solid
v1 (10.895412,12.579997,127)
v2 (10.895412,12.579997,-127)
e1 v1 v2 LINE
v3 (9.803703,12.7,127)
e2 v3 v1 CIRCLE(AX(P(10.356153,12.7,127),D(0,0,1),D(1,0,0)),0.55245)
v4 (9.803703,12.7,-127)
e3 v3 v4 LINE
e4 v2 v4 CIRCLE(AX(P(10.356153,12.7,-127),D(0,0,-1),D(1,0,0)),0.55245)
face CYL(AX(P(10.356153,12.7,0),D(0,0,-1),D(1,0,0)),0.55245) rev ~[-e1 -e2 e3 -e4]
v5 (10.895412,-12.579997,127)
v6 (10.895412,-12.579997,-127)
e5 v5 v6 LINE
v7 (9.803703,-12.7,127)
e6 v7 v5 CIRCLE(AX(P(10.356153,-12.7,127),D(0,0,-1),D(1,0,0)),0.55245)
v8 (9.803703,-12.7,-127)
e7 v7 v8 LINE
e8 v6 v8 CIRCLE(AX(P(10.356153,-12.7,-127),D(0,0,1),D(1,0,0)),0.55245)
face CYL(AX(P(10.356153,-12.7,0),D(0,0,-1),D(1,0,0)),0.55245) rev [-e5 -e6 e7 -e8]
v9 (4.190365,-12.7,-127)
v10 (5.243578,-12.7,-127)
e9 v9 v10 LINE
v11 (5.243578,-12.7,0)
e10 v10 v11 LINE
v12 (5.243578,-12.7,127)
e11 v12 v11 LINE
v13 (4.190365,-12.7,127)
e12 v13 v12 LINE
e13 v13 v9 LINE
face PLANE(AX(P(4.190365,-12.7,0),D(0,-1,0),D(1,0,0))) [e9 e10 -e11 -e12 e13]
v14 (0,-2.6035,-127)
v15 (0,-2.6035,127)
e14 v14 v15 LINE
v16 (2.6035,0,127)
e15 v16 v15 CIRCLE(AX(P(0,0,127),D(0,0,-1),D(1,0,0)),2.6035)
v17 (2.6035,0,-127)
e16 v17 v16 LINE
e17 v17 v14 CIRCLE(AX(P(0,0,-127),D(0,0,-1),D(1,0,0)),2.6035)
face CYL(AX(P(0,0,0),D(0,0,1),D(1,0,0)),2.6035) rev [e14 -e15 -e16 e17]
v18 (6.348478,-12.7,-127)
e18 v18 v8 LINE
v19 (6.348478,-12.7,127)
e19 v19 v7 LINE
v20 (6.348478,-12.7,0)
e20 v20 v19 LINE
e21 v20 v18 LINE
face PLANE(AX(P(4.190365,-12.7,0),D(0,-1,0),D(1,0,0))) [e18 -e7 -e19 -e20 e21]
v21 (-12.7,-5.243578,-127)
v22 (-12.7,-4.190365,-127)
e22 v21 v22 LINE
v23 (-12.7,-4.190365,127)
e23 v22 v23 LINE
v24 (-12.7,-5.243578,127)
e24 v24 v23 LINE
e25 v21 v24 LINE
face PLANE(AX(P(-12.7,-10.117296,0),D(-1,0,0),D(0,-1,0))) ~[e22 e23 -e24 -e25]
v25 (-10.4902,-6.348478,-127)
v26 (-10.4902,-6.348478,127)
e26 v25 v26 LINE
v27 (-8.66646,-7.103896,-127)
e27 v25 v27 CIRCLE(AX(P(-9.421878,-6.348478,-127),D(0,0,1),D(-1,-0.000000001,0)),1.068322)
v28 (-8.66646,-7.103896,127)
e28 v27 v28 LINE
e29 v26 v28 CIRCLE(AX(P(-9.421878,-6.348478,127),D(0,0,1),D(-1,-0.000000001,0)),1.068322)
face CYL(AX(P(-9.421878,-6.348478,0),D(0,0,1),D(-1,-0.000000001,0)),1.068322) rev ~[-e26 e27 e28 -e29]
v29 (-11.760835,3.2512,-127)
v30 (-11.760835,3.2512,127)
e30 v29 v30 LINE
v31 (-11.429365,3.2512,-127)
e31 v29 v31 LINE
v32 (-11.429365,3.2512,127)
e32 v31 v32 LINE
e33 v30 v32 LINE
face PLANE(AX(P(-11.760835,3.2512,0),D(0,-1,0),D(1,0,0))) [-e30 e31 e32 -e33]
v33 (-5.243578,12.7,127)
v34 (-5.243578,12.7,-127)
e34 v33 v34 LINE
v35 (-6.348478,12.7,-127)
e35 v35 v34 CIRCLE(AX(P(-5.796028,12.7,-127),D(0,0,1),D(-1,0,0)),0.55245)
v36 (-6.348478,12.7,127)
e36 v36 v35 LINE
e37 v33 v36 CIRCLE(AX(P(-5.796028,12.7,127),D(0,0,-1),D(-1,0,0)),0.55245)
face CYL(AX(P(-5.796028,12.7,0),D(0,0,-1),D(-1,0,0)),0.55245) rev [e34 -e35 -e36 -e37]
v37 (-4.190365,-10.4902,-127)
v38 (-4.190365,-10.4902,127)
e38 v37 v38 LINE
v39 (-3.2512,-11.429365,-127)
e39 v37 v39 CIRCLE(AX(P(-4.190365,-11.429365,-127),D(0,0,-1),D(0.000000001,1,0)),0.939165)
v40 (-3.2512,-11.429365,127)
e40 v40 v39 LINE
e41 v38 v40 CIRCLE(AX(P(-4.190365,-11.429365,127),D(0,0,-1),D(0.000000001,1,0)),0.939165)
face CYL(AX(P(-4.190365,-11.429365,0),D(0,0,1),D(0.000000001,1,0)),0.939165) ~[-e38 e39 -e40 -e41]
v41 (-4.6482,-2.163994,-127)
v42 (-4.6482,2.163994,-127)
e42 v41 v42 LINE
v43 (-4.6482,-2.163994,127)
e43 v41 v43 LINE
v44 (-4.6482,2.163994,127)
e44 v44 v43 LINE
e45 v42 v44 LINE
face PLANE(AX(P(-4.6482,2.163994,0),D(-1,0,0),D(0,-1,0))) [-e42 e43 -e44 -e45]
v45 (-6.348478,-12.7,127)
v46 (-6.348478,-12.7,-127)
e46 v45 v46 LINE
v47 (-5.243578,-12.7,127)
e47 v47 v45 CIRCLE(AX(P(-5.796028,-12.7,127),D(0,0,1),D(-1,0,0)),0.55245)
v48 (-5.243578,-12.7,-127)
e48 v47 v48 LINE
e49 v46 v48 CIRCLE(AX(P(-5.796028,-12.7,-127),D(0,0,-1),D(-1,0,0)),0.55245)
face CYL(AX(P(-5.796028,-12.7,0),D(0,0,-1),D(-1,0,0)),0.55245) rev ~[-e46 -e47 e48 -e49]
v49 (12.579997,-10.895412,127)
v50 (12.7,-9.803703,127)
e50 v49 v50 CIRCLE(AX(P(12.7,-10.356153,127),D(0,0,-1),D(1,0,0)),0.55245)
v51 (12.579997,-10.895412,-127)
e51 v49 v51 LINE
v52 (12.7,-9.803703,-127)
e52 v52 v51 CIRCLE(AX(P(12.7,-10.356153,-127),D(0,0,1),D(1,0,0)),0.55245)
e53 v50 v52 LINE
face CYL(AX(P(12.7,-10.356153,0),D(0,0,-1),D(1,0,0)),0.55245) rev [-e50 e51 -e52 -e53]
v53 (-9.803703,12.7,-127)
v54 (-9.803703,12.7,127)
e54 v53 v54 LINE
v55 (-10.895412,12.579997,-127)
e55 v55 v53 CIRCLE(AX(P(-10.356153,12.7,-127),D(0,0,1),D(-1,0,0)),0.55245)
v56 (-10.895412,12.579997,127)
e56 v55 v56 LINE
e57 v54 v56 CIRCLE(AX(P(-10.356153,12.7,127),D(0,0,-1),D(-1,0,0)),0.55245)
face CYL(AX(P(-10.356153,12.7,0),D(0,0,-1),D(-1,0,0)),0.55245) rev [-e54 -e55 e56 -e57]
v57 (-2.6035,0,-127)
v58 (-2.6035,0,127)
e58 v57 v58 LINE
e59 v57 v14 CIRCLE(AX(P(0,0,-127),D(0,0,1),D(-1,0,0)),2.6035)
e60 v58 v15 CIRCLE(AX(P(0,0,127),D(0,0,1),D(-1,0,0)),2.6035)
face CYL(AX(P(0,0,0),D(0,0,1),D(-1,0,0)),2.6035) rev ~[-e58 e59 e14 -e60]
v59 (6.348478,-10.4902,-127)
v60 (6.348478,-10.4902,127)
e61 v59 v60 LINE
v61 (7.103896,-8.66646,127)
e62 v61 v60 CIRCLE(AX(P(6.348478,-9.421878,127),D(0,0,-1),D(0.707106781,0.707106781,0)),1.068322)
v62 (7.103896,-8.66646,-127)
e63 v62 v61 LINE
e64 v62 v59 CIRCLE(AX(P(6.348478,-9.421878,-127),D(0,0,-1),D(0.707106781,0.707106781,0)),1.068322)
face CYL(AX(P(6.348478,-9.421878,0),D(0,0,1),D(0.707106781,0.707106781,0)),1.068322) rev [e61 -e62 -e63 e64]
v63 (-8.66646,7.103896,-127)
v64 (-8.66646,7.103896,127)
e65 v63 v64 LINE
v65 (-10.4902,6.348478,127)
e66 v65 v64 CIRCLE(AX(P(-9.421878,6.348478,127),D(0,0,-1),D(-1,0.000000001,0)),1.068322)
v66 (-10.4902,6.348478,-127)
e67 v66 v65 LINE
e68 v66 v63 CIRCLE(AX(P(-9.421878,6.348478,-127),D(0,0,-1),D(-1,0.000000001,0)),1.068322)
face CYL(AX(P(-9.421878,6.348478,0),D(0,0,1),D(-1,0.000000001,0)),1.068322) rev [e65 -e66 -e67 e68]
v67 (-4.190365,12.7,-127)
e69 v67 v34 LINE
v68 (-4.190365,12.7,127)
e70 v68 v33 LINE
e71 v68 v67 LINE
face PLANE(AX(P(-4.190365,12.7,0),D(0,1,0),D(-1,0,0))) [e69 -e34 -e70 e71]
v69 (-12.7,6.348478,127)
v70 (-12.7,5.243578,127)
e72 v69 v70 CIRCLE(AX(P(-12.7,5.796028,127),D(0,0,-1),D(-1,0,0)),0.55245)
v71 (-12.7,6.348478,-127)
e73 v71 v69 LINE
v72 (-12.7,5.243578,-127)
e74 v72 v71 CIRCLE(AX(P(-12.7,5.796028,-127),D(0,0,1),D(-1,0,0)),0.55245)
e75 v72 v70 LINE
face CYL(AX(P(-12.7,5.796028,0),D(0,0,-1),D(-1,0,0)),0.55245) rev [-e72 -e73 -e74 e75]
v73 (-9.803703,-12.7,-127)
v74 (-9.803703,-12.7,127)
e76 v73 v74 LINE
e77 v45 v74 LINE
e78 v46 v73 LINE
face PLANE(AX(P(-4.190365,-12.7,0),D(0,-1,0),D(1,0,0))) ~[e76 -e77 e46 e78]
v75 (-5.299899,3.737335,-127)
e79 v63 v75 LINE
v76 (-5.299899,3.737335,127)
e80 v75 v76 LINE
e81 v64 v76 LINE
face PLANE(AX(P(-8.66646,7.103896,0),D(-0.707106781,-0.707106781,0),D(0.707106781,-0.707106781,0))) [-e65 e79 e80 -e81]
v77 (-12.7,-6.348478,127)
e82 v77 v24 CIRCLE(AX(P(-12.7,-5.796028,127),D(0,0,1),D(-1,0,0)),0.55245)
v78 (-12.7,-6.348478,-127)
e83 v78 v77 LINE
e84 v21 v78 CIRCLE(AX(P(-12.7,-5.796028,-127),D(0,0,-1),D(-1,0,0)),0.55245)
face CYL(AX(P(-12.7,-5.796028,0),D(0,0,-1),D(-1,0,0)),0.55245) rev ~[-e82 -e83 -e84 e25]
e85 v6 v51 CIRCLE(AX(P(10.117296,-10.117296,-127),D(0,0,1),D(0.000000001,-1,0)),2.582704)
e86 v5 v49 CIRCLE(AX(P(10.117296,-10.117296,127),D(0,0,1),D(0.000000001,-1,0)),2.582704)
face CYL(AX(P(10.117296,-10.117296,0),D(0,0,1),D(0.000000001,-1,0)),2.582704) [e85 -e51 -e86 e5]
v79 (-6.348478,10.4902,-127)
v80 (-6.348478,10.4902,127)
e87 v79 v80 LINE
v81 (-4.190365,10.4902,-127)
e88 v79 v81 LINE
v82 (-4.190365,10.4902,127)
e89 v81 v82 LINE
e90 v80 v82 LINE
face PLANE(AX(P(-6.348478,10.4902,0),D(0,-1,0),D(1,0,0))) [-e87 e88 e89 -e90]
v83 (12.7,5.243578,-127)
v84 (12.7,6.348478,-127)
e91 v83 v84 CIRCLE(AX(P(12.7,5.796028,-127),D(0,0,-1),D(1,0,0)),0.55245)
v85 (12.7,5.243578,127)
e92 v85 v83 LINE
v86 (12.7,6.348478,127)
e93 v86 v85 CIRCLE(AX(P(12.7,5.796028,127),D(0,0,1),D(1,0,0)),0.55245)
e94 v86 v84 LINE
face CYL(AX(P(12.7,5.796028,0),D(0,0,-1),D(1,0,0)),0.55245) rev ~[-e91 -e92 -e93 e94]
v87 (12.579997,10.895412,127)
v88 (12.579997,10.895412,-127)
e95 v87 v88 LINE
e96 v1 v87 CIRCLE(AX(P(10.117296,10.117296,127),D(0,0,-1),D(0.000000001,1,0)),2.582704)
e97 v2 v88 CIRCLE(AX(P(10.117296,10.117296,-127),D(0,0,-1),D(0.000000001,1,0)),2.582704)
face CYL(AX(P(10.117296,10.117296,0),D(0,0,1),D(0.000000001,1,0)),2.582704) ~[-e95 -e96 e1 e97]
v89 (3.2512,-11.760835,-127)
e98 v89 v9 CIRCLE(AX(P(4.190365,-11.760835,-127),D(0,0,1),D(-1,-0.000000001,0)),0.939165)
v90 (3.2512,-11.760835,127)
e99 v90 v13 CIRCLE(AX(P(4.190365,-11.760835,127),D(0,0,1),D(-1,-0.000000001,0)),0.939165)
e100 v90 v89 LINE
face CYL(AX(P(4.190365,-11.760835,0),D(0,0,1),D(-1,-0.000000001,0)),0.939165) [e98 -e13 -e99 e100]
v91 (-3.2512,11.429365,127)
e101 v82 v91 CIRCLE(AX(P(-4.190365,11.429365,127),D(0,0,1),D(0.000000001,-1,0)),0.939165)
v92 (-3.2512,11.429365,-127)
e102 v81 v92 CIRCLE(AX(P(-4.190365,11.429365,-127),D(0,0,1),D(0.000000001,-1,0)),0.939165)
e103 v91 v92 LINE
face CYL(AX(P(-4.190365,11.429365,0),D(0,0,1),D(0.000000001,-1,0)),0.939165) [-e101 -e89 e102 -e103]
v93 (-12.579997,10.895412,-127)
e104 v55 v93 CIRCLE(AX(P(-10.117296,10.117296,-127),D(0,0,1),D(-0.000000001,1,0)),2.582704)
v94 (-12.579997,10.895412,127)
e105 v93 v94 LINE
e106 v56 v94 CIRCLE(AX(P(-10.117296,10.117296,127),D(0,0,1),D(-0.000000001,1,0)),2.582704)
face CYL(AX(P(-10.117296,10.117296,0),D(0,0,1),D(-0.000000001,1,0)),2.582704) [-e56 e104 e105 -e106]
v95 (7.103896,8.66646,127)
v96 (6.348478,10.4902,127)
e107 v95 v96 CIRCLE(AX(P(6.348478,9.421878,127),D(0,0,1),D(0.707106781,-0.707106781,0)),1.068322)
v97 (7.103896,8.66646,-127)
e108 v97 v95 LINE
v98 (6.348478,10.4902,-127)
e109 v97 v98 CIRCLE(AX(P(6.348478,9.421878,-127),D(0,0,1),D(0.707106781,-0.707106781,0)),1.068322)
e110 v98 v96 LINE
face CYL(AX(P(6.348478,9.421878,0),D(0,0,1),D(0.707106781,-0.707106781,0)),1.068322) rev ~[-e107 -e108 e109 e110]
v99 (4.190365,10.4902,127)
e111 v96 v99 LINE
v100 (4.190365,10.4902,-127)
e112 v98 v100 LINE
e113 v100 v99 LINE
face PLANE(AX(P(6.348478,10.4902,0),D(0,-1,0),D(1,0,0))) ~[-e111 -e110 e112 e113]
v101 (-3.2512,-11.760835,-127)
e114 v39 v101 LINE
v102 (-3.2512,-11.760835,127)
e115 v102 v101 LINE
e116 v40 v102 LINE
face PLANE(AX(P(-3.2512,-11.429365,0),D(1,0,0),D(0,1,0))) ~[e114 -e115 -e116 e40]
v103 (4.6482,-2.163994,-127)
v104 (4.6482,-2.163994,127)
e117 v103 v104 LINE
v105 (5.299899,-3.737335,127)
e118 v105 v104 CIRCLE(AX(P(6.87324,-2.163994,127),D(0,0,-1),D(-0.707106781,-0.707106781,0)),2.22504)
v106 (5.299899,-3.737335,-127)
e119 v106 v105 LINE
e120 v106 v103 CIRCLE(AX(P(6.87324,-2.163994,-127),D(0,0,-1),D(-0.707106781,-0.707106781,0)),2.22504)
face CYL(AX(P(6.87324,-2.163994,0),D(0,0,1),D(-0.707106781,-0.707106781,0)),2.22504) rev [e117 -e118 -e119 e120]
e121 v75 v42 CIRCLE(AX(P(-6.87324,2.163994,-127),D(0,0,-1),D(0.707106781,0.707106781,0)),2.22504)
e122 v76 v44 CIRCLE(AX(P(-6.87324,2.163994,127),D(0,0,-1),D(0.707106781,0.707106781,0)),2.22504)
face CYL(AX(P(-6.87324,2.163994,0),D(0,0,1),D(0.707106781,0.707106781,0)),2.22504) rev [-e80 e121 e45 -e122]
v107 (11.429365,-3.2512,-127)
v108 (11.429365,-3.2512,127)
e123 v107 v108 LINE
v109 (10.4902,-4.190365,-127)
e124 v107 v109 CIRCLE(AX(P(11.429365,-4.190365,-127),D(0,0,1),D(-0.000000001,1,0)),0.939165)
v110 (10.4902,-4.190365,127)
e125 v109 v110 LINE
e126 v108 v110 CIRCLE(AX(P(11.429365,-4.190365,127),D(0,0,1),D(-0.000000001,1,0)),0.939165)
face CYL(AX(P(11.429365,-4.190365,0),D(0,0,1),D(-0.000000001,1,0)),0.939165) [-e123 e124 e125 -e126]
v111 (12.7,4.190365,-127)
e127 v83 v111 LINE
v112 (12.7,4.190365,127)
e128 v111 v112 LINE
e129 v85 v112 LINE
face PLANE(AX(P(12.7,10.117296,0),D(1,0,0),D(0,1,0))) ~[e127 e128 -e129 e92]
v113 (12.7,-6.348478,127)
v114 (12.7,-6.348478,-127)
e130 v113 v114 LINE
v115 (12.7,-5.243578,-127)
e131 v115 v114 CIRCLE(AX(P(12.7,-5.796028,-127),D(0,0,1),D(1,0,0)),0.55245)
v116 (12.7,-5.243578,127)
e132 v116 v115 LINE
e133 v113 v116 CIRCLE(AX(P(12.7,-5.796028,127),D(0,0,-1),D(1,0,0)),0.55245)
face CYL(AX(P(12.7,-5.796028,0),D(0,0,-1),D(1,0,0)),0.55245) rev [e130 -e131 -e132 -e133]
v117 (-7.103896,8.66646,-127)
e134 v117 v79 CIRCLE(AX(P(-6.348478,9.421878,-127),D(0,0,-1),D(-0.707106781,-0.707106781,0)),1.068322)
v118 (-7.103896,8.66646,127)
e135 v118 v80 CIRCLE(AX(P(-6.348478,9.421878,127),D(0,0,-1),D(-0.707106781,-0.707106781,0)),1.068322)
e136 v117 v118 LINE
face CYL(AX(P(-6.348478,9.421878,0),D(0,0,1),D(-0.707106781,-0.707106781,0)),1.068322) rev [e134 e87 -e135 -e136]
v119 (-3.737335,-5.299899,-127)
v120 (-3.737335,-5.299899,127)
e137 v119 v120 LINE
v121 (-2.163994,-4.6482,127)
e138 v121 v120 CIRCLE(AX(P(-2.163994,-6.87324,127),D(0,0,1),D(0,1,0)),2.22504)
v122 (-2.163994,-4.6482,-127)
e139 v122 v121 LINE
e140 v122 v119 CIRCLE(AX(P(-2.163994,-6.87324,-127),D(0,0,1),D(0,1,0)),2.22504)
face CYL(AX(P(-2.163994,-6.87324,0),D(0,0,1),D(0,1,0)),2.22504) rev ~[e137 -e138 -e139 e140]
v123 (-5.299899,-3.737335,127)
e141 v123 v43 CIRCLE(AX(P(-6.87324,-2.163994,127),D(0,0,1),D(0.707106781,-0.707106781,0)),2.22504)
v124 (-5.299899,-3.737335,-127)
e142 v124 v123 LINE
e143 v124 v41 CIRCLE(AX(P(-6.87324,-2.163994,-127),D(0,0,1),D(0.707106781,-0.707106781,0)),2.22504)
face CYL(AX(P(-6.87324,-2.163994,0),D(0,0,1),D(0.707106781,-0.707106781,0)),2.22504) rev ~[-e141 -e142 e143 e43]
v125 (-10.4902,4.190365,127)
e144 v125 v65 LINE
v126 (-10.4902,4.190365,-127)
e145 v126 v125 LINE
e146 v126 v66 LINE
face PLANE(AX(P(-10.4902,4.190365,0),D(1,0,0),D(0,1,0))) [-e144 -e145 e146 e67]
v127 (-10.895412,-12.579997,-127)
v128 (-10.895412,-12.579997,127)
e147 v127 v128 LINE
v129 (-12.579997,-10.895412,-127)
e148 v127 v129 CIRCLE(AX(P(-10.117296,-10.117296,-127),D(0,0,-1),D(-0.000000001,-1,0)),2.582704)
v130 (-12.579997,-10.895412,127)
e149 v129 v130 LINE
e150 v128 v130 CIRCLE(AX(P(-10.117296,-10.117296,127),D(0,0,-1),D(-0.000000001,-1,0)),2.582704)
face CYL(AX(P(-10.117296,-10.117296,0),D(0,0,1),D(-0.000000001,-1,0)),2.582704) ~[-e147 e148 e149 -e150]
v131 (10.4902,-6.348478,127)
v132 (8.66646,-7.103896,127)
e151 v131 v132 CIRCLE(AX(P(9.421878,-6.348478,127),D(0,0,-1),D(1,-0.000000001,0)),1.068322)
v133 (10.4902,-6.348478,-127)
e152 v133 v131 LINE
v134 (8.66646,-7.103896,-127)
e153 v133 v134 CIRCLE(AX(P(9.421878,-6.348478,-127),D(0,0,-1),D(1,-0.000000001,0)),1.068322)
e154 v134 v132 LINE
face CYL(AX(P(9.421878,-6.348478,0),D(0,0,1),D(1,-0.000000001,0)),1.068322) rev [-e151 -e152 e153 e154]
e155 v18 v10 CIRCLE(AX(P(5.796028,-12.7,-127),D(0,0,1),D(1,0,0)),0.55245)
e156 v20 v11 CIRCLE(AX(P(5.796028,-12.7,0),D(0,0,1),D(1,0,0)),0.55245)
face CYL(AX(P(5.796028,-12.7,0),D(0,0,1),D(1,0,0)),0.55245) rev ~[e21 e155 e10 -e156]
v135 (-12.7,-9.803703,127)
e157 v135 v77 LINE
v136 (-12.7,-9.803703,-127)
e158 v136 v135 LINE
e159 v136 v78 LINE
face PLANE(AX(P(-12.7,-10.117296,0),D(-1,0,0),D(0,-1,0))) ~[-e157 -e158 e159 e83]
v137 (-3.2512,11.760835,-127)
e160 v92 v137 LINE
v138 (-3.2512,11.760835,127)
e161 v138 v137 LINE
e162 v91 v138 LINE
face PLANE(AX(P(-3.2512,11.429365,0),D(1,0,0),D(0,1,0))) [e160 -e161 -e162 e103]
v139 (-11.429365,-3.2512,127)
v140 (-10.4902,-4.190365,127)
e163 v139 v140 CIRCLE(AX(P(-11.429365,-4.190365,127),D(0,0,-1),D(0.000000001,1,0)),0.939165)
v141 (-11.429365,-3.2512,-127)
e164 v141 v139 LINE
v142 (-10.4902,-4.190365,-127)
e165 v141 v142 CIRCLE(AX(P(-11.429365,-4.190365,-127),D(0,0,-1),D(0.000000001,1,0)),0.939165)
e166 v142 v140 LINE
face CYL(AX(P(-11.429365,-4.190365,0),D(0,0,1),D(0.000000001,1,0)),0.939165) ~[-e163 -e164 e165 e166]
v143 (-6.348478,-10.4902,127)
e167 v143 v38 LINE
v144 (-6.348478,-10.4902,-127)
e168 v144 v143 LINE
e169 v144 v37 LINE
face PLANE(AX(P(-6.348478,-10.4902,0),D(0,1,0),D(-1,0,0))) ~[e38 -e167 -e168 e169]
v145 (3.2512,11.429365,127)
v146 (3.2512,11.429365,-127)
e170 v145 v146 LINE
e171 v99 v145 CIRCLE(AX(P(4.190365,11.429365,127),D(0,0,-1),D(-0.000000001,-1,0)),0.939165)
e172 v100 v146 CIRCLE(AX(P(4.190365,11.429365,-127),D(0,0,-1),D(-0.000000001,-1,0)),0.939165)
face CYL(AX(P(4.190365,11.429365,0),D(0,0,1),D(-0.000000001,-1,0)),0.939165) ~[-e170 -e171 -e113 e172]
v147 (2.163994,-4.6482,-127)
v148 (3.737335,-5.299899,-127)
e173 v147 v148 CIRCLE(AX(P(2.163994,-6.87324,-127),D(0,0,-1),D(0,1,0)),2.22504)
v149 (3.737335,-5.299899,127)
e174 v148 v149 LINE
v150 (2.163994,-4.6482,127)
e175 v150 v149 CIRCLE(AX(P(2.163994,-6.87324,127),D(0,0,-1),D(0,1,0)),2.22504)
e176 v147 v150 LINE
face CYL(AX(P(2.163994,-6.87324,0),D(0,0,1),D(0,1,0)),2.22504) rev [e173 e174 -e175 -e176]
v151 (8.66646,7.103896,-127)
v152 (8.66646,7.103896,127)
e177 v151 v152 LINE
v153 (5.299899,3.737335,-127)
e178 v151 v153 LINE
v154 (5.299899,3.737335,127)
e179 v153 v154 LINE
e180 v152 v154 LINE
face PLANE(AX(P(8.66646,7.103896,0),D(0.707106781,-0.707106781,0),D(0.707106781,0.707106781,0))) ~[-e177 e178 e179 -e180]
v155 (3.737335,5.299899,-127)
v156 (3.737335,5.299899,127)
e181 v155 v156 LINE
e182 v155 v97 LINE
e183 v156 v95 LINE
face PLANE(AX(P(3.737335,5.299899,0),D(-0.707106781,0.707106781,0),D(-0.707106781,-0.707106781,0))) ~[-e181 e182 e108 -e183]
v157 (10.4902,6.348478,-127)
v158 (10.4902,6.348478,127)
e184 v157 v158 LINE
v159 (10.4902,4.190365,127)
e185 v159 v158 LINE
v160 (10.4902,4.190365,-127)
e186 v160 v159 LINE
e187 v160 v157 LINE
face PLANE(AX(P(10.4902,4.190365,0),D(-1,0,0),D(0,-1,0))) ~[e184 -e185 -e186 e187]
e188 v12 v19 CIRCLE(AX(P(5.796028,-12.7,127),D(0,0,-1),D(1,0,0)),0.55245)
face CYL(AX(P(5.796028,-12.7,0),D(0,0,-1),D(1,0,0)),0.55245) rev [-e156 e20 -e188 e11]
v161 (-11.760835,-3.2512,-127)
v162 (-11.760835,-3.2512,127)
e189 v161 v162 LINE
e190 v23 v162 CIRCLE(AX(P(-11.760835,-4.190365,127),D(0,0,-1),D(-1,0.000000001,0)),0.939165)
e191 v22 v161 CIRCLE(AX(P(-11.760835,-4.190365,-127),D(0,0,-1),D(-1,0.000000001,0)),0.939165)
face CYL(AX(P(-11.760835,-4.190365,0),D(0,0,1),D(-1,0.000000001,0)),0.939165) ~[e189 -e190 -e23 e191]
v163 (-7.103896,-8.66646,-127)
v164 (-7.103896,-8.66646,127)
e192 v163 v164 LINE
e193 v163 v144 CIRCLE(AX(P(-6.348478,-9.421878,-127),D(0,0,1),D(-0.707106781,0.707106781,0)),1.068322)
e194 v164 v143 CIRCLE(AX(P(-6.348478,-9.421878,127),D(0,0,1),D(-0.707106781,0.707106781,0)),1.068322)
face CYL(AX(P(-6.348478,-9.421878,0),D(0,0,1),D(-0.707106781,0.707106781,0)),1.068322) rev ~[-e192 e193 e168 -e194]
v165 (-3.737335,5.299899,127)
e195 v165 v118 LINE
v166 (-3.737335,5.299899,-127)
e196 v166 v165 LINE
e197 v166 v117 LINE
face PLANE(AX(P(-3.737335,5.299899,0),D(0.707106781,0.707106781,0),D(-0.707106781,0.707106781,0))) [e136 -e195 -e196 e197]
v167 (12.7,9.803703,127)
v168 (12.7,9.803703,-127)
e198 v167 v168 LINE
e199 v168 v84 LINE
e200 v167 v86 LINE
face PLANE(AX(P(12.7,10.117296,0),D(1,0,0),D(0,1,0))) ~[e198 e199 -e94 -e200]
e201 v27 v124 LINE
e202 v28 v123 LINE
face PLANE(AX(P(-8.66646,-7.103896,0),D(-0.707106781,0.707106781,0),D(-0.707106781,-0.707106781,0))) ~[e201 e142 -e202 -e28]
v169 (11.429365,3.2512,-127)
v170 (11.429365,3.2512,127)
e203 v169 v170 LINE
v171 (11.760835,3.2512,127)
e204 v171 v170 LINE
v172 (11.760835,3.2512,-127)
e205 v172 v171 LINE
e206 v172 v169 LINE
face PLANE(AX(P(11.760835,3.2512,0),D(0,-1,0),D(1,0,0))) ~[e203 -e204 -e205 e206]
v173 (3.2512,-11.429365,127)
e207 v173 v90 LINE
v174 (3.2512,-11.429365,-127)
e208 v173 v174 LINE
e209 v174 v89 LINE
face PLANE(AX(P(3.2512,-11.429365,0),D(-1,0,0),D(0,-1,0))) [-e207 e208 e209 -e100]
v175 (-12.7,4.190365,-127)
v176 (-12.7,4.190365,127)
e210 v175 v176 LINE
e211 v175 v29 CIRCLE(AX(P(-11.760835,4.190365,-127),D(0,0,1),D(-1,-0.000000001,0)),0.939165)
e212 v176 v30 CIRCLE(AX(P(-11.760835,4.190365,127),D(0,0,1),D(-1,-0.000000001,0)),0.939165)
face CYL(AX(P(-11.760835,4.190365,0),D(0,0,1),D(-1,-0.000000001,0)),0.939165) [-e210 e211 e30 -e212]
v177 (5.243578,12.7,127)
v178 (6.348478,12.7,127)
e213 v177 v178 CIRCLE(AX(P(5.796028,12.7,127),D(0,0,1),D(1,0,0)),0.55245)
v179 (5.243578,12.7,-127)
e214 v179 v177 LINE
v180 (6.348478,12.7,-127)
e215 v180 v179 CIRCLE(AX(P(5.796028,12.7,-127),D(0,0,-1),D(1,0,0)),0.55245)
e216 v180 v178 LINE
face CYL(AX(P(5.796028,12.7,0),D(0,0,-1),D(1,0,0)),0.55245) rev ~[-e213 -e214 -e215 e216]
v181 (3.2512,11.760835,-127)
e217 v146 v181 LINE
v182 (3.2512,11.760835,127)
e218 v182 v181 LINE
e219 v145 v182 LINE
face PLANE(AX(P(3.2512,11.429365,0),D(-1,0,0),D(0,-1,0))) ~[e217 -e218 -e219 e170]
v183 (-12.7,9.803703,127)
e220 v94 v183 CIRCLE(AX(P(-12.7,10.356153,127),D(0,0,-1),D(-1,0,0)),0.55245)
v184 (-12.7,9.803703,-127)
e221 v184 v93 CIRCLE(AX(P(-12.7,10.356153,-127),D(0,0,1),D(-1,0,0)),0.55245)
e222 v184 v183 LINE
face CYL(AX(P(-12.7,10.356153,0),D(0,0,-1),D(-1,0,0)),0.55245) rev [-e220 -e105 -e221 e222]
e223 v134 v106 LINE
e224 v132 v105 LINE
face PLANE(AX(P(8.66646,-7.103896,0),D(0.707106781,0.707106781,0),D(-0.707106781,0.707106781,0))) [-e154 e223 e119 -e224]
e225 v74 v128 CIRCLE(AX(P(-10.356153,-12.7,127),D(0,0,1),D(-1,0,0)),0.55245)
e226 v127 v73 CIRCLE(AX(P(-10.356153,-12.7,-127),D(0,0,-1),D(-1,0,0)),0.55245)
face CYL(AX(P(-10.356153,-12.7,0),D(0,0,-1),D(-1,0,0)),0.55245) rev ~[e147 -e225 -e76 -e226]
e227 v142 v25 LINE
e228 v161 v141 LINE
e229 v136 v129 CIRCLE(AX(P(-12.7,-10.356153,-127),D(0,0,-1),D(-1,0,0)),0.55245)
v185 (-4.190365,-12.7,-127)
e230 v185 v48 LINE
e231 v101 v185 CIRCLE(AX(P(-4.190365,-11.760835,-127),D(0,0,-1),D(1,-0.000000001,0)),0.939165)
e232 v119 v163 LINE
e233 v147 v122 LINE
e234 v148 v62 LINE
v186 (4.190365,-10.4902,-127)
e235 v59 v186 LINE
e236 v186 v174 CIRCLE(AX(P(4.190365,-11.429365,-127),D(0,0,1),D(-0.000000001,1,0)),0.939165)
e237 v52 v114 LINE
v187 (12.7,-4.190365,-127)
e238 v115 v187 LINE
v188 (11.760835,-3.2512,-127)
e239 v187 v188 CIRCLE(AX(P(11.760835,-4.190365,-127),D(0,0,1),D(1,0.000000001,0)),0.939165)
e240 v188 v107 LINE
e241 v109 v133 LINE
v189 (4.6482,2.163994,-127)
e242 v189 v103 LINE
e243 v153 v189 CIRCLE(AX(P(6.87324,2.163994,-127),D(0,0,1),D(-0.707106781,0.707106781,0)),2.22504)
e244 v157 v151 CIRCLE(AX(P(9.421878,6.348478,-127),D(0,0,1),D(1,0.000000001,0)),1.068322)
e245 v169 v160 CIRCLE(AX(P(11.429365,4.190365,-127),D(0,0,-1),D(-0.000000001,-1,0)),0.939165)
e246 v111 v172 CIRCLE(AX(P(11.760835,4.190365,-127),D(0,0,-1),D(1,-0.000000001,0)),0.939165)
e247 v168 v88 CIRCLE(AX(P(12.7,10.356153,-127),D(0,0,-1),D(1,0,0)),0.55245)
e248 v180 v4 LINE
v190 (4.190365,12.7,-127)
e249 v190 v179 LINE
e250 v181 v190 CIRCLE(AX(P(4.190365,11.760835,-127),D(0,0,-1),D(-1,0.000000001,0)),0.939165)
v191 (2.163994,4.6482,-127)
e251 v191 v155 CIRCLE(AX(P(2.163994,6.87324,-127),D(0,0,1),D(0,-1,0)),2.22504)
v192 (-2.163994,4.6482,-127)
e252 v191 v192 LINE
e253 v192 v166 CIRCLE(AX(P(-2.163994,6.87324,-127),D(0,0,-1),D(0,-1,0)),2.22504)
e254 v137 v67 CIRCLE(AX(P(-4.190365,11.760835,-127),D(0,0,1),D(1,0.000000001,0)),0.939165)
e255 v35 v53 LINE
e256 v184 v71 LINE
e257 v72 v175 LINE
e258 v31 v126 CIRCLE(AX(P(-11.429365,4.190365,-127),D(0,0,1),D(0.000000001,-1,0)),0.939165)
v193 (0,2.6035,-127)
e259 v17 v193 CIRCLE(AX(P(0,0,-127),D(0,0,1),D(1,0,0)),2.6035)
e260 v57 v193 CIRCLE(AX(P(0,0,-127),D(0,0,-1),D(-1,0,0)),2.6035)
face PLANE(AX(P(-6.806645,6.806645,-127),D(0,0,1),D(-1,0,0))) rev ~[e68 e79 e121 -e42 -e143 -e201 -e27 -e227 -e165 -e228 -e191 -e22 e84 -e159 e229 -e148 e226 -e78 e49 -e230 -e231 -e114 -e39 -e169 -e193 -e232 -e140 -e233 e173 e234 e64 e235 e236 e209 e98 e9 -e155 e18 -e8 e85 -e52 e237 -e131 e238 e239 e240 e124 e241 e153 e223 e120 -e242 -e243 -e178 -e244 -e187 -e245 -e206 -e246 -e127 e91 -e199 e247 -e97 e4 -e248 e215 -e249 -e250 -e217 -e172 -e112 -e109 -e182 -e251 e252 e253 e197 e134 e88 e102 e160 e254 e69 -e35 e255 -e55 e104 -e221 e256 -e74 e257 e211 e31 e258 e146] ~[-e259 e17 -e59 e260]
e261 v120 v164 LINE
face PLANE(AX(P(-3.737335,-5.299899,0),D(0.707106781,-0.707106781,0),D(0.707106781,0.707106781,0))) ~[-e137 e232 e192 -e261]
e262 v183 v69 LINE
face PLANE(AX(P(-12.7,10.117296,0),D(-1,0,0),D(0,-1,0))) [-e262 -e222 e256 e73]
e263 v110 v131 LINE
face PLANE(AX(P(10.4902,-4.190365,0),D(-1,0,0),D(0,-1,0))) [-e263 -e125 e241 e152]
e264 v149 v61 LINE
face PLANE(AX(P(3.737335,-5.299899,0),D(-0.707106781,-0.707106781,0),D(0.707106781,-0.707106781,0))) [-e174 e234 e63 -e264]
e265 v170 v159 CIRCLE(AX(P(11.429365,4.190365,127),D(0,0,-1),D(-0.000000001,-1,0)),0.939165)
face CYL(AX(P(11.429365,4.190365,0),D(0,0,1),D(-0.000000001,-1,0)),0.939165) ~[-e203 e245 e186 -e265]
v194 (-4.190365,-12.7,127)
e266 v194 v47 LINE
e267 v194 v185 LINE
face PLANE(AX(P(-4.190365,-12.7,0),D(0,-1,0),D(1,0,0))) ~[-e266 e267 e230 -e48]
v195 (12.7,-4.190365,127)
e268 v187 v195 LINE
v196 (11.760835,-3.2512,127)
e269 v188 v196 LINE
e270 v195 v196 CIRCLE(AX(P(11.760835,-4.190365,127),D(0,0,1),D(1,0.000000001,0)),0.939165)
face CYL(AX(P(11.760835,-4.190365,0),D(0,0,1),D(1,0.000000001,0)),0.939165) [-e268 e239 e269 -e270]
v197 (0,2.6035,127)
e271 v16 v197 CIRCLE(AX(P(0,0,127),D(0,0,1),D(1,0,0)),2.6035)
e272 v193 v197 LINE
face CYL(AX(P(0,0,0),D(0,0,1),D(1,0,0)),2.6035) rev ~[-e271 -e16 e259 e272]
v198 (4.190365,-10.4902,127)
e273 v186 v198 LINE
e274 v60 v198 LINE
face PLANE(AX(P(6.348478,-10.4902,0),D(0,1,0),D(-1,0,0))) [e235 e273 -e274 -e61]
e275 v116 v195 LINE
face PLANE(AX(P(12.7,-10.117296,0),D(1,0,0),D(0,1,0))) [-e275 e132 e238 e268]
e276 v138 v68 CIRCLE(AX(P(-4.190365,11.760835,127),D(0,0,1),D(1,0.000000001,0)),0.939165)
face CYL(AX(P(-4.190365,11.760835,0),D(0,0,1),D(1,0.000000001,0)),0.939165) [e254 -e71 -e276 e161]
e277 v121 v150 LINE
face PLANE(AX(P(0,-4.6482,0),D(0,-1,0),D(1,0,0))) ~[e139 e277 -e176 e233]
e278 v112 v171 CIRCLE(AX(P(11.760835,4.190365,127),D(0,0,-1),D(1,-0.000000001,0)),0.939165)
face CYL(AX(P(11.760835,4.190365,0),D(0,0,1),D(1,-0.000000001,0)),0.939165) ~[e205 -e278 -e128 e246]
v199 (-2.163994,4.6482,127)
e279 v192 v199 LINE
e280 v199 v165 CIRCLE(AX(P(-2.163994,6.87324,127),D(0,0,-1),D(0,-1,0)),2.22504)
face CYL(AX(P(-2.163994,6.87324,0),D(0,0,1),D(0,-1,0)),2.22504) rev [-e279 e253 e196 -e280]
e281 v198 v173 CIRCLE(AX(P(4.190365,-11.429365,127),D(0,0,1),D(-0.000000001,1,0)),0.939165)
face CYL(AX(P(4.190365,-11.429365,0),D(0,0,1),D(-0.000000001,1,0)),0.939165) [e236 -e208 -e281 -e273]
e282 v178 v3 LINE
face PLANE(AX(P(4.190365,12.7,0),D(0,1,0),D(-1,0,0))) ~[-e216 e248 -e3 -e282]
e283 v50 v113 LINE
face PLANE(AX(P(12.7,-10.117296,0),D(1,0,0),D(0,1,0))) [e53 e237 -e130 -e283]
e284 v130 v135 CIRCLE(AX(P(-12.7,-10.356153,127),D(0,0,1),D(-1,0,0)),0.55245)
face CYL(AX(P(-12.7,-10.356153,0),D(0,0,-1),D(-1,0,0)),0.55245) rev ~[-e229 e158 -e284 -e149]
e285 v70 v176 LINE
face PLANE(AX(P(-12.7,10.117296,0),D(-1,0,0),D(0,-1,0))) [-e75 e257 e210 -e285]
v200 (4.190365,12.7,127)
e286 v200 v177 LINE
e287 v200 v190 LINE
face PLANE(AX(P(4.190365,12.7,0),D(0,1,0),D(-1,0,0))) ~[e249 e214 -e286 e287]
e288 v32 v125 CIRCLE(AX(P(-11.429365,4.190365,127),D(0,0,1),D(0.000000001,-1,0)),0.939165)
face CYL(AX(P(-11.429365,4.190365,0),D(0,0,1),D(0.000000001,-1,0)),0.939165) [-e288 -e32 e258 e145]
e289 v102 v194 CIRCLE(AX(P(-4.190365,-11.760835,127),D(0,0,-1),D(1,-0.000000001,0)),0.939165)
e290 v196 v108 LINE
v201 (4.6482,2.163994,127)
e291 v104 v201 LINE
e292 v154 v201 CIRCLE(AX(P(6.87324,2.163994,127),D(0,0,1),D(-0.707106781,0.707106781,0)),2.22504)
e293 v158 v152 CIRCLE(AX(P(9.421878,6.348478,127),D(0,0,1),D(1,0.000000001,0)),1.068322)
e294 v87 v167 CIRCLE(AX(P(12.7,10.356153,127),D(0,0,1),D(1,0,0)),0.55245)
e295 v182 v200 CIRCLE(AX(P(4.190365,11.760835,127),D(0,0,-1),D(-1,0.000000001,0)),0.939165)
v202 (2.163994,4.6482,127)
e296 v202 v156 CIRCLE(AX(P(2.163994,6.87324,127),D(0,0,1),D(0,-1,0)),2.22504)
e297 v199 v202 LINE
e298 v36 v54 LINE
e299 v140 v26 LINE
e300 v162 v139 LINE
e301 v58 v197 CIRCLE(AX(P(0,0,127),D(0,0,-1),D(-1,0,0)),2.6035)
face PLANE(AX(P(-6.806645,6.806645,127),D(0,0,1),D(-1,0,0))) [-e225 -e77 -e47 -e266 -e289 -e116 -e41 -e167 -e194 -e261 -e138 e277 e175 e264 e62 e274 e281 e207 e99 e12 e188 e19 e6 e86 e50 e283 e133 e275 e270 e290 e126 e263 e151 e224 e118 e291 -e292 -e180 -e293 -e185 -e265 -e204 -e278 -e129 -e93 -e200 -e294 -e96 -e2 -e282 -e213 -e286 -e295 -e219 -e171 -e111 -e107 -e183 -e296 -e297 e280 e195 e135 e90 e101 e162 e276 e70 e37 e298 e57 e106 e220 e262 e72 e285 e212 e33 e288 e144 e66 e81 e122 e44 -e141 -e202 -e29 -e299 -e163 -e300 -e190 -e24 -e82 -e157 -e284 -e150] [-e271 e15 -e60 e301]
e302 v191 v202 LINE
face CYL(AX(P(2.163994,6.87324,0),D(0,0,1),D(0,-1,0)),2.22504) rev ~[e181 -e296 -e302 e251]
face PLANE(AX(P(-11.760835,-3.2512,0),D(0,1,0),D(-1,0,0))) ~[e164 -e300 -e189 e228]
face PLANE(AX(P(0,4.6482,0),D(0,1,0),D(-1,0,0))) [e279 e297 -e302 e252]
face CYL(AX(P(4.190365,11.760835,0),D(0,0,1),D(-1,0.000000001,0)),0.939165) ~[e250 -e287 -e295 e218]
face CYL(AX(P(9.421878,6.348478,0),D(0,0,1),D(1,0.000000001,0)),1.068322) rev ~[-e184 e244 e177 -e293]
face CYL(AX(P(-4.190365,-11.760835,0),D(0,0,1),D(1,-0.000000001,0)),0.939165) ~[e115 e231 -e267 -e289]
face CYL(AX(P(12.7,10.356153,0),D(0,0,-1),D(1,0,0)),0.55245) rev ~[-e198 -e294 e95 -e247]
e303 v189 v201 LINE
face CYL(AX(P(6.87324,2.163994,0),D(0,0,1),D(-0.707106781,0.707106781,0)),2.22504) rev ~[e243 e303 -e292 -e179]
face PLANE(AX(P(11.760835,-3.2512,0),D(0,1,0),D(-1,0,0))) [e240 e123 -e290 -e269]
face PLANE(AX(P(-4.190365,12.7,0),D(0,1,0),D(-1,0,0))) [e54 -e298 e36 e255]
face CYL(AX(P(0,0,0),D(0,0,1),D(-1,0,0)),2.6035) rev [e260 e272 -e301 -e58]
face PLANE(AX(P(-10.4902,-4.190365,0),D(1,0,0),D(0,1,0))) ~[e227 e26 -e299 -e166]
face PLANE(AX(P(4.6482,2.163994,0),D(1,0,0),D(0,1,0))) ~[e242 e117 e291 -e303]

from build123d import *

# Parameters (mm, degrees)
BOSS_EXTRUDE1_DEPTH     = 127
SKETCH5_R               = 0.55245
CUT_EXTRUDE1_DEPTH      = 128
CUT_EXTRUDE1_DEPTH_BACK = 128


with BuildPart() as part:
    # Sketch4 → Boss-Extrude1 (new body, symmetric)
    with BuildSketch(Plane.XY):
        with BuildLine():
            Line((4.190365, -12.7), (10.11729625, -12.7))
            ThreePointArc((10.11729625, -12.7), (11.943543585, -11.943543585), (12.7, -10.11729625))
            Line((12.7, -10.11729625), (12.7, -4.190365))
            ThreePointArc((12.7, -4.190365), (12.42492494, -3.52627506), (11.760835, -3.2512))
            Line((11.760835, -3.2512), (11.429365, -3.2512))
            ThreePointArc((11.429365, -3.2512), (10.76527506, -3.52627506), (10.4902, -4.190365))
            Line((10.4902, -4.190365), (10.4902, -6.348478019))
            ThreePointArc((10.4902, -6.348478019), (9.830707141, -7.335478831), (8.666460301, -7.103895736))
            Line((8.666460301, -7.103895736), (5.299899128, -3.737334563))
            ThreePointArc((5.299899128, -3.737334563), (4.817571085, -3.015479634), (4.6482, -2.16399369))
            Line((4.6482, -2.16399369), (4.6482, 0))
            Line((4.6482, 0), (2.6035, 0))
            ThreePointArc((2.6035, 0), (1.840952505, -1.840952505), (0, -2.6035))
            Line((0, -2.6035), (0, -4.6482))
            Line((0, -4.6482), (2.16399369, -4.6482))
            ThreePointArc((2.16399369, -4.6482), (3.015479634, -4.817571085), (3.737334563, -5.299899128))
            Line((3.737334563, -5.299899128), (7.103895736, -8.666460301))
            ThreePointArc((7.103895736, -8.666460301), (7.335478831, -9.830707141), (6.348478019, -10.4902))
            Line((6.348478019, -10.4902), (4.190365, -10.4902))
            ThreePointArc((4.190365, -10.4902), (3.52627506, -10.76527506), (3.2512, -11.429365))
            Line((3.2512, -11.429365), (3.2512, -11.760835))
            ThreePointArc((3.2512, -11.760835), (3.52627506, -12.42492494), (4.190365, -12.7))
        make_face()
    extrude(amount=BOSS_EXTRUDE1_DEPTH, both=True)

    # Sketch5 → Cut-Extrude1 (cut, two sides)
    with BuildSketch(Plane.XY) as cut_extrude1_sk:
        with Locations((10.356153152, -12.7)):
            Circle(SKETCH5_R)
        with Locations((5.796028019, -12.7)):
            Circle(SKETCH5_R)
        with Locations((12.7, -10.356153152)):
            Circle(SKETCH5_R)
        with Locations((12.7, -5.796028019)):
            Circle(SKETCH5_R)
    extrude(amount=CUT_EXTRUDE1_DEPTH, mode=Mode.SUBTRACT)
    extrude(cut_extrude1_sk.sketch, amount=-CUT_EXTRUDE1_DEPTH_BACK, mode=Mode.SUBTRACT)

    # Mirror1: part across plane


with BuildPart() as part_1:
    add(part.part)
    add(part.part.mirror(Plane(origin=(0, 0, 0), x_dir=(0, 0, 1), z_dir=(1, 0, 0))))

    # Mirror2: part across plane


with BuildPart() as part_2:
    add(part_1.part)
    add(part_1.part.mirror(Plane.ZX))


solid = part_2.part
